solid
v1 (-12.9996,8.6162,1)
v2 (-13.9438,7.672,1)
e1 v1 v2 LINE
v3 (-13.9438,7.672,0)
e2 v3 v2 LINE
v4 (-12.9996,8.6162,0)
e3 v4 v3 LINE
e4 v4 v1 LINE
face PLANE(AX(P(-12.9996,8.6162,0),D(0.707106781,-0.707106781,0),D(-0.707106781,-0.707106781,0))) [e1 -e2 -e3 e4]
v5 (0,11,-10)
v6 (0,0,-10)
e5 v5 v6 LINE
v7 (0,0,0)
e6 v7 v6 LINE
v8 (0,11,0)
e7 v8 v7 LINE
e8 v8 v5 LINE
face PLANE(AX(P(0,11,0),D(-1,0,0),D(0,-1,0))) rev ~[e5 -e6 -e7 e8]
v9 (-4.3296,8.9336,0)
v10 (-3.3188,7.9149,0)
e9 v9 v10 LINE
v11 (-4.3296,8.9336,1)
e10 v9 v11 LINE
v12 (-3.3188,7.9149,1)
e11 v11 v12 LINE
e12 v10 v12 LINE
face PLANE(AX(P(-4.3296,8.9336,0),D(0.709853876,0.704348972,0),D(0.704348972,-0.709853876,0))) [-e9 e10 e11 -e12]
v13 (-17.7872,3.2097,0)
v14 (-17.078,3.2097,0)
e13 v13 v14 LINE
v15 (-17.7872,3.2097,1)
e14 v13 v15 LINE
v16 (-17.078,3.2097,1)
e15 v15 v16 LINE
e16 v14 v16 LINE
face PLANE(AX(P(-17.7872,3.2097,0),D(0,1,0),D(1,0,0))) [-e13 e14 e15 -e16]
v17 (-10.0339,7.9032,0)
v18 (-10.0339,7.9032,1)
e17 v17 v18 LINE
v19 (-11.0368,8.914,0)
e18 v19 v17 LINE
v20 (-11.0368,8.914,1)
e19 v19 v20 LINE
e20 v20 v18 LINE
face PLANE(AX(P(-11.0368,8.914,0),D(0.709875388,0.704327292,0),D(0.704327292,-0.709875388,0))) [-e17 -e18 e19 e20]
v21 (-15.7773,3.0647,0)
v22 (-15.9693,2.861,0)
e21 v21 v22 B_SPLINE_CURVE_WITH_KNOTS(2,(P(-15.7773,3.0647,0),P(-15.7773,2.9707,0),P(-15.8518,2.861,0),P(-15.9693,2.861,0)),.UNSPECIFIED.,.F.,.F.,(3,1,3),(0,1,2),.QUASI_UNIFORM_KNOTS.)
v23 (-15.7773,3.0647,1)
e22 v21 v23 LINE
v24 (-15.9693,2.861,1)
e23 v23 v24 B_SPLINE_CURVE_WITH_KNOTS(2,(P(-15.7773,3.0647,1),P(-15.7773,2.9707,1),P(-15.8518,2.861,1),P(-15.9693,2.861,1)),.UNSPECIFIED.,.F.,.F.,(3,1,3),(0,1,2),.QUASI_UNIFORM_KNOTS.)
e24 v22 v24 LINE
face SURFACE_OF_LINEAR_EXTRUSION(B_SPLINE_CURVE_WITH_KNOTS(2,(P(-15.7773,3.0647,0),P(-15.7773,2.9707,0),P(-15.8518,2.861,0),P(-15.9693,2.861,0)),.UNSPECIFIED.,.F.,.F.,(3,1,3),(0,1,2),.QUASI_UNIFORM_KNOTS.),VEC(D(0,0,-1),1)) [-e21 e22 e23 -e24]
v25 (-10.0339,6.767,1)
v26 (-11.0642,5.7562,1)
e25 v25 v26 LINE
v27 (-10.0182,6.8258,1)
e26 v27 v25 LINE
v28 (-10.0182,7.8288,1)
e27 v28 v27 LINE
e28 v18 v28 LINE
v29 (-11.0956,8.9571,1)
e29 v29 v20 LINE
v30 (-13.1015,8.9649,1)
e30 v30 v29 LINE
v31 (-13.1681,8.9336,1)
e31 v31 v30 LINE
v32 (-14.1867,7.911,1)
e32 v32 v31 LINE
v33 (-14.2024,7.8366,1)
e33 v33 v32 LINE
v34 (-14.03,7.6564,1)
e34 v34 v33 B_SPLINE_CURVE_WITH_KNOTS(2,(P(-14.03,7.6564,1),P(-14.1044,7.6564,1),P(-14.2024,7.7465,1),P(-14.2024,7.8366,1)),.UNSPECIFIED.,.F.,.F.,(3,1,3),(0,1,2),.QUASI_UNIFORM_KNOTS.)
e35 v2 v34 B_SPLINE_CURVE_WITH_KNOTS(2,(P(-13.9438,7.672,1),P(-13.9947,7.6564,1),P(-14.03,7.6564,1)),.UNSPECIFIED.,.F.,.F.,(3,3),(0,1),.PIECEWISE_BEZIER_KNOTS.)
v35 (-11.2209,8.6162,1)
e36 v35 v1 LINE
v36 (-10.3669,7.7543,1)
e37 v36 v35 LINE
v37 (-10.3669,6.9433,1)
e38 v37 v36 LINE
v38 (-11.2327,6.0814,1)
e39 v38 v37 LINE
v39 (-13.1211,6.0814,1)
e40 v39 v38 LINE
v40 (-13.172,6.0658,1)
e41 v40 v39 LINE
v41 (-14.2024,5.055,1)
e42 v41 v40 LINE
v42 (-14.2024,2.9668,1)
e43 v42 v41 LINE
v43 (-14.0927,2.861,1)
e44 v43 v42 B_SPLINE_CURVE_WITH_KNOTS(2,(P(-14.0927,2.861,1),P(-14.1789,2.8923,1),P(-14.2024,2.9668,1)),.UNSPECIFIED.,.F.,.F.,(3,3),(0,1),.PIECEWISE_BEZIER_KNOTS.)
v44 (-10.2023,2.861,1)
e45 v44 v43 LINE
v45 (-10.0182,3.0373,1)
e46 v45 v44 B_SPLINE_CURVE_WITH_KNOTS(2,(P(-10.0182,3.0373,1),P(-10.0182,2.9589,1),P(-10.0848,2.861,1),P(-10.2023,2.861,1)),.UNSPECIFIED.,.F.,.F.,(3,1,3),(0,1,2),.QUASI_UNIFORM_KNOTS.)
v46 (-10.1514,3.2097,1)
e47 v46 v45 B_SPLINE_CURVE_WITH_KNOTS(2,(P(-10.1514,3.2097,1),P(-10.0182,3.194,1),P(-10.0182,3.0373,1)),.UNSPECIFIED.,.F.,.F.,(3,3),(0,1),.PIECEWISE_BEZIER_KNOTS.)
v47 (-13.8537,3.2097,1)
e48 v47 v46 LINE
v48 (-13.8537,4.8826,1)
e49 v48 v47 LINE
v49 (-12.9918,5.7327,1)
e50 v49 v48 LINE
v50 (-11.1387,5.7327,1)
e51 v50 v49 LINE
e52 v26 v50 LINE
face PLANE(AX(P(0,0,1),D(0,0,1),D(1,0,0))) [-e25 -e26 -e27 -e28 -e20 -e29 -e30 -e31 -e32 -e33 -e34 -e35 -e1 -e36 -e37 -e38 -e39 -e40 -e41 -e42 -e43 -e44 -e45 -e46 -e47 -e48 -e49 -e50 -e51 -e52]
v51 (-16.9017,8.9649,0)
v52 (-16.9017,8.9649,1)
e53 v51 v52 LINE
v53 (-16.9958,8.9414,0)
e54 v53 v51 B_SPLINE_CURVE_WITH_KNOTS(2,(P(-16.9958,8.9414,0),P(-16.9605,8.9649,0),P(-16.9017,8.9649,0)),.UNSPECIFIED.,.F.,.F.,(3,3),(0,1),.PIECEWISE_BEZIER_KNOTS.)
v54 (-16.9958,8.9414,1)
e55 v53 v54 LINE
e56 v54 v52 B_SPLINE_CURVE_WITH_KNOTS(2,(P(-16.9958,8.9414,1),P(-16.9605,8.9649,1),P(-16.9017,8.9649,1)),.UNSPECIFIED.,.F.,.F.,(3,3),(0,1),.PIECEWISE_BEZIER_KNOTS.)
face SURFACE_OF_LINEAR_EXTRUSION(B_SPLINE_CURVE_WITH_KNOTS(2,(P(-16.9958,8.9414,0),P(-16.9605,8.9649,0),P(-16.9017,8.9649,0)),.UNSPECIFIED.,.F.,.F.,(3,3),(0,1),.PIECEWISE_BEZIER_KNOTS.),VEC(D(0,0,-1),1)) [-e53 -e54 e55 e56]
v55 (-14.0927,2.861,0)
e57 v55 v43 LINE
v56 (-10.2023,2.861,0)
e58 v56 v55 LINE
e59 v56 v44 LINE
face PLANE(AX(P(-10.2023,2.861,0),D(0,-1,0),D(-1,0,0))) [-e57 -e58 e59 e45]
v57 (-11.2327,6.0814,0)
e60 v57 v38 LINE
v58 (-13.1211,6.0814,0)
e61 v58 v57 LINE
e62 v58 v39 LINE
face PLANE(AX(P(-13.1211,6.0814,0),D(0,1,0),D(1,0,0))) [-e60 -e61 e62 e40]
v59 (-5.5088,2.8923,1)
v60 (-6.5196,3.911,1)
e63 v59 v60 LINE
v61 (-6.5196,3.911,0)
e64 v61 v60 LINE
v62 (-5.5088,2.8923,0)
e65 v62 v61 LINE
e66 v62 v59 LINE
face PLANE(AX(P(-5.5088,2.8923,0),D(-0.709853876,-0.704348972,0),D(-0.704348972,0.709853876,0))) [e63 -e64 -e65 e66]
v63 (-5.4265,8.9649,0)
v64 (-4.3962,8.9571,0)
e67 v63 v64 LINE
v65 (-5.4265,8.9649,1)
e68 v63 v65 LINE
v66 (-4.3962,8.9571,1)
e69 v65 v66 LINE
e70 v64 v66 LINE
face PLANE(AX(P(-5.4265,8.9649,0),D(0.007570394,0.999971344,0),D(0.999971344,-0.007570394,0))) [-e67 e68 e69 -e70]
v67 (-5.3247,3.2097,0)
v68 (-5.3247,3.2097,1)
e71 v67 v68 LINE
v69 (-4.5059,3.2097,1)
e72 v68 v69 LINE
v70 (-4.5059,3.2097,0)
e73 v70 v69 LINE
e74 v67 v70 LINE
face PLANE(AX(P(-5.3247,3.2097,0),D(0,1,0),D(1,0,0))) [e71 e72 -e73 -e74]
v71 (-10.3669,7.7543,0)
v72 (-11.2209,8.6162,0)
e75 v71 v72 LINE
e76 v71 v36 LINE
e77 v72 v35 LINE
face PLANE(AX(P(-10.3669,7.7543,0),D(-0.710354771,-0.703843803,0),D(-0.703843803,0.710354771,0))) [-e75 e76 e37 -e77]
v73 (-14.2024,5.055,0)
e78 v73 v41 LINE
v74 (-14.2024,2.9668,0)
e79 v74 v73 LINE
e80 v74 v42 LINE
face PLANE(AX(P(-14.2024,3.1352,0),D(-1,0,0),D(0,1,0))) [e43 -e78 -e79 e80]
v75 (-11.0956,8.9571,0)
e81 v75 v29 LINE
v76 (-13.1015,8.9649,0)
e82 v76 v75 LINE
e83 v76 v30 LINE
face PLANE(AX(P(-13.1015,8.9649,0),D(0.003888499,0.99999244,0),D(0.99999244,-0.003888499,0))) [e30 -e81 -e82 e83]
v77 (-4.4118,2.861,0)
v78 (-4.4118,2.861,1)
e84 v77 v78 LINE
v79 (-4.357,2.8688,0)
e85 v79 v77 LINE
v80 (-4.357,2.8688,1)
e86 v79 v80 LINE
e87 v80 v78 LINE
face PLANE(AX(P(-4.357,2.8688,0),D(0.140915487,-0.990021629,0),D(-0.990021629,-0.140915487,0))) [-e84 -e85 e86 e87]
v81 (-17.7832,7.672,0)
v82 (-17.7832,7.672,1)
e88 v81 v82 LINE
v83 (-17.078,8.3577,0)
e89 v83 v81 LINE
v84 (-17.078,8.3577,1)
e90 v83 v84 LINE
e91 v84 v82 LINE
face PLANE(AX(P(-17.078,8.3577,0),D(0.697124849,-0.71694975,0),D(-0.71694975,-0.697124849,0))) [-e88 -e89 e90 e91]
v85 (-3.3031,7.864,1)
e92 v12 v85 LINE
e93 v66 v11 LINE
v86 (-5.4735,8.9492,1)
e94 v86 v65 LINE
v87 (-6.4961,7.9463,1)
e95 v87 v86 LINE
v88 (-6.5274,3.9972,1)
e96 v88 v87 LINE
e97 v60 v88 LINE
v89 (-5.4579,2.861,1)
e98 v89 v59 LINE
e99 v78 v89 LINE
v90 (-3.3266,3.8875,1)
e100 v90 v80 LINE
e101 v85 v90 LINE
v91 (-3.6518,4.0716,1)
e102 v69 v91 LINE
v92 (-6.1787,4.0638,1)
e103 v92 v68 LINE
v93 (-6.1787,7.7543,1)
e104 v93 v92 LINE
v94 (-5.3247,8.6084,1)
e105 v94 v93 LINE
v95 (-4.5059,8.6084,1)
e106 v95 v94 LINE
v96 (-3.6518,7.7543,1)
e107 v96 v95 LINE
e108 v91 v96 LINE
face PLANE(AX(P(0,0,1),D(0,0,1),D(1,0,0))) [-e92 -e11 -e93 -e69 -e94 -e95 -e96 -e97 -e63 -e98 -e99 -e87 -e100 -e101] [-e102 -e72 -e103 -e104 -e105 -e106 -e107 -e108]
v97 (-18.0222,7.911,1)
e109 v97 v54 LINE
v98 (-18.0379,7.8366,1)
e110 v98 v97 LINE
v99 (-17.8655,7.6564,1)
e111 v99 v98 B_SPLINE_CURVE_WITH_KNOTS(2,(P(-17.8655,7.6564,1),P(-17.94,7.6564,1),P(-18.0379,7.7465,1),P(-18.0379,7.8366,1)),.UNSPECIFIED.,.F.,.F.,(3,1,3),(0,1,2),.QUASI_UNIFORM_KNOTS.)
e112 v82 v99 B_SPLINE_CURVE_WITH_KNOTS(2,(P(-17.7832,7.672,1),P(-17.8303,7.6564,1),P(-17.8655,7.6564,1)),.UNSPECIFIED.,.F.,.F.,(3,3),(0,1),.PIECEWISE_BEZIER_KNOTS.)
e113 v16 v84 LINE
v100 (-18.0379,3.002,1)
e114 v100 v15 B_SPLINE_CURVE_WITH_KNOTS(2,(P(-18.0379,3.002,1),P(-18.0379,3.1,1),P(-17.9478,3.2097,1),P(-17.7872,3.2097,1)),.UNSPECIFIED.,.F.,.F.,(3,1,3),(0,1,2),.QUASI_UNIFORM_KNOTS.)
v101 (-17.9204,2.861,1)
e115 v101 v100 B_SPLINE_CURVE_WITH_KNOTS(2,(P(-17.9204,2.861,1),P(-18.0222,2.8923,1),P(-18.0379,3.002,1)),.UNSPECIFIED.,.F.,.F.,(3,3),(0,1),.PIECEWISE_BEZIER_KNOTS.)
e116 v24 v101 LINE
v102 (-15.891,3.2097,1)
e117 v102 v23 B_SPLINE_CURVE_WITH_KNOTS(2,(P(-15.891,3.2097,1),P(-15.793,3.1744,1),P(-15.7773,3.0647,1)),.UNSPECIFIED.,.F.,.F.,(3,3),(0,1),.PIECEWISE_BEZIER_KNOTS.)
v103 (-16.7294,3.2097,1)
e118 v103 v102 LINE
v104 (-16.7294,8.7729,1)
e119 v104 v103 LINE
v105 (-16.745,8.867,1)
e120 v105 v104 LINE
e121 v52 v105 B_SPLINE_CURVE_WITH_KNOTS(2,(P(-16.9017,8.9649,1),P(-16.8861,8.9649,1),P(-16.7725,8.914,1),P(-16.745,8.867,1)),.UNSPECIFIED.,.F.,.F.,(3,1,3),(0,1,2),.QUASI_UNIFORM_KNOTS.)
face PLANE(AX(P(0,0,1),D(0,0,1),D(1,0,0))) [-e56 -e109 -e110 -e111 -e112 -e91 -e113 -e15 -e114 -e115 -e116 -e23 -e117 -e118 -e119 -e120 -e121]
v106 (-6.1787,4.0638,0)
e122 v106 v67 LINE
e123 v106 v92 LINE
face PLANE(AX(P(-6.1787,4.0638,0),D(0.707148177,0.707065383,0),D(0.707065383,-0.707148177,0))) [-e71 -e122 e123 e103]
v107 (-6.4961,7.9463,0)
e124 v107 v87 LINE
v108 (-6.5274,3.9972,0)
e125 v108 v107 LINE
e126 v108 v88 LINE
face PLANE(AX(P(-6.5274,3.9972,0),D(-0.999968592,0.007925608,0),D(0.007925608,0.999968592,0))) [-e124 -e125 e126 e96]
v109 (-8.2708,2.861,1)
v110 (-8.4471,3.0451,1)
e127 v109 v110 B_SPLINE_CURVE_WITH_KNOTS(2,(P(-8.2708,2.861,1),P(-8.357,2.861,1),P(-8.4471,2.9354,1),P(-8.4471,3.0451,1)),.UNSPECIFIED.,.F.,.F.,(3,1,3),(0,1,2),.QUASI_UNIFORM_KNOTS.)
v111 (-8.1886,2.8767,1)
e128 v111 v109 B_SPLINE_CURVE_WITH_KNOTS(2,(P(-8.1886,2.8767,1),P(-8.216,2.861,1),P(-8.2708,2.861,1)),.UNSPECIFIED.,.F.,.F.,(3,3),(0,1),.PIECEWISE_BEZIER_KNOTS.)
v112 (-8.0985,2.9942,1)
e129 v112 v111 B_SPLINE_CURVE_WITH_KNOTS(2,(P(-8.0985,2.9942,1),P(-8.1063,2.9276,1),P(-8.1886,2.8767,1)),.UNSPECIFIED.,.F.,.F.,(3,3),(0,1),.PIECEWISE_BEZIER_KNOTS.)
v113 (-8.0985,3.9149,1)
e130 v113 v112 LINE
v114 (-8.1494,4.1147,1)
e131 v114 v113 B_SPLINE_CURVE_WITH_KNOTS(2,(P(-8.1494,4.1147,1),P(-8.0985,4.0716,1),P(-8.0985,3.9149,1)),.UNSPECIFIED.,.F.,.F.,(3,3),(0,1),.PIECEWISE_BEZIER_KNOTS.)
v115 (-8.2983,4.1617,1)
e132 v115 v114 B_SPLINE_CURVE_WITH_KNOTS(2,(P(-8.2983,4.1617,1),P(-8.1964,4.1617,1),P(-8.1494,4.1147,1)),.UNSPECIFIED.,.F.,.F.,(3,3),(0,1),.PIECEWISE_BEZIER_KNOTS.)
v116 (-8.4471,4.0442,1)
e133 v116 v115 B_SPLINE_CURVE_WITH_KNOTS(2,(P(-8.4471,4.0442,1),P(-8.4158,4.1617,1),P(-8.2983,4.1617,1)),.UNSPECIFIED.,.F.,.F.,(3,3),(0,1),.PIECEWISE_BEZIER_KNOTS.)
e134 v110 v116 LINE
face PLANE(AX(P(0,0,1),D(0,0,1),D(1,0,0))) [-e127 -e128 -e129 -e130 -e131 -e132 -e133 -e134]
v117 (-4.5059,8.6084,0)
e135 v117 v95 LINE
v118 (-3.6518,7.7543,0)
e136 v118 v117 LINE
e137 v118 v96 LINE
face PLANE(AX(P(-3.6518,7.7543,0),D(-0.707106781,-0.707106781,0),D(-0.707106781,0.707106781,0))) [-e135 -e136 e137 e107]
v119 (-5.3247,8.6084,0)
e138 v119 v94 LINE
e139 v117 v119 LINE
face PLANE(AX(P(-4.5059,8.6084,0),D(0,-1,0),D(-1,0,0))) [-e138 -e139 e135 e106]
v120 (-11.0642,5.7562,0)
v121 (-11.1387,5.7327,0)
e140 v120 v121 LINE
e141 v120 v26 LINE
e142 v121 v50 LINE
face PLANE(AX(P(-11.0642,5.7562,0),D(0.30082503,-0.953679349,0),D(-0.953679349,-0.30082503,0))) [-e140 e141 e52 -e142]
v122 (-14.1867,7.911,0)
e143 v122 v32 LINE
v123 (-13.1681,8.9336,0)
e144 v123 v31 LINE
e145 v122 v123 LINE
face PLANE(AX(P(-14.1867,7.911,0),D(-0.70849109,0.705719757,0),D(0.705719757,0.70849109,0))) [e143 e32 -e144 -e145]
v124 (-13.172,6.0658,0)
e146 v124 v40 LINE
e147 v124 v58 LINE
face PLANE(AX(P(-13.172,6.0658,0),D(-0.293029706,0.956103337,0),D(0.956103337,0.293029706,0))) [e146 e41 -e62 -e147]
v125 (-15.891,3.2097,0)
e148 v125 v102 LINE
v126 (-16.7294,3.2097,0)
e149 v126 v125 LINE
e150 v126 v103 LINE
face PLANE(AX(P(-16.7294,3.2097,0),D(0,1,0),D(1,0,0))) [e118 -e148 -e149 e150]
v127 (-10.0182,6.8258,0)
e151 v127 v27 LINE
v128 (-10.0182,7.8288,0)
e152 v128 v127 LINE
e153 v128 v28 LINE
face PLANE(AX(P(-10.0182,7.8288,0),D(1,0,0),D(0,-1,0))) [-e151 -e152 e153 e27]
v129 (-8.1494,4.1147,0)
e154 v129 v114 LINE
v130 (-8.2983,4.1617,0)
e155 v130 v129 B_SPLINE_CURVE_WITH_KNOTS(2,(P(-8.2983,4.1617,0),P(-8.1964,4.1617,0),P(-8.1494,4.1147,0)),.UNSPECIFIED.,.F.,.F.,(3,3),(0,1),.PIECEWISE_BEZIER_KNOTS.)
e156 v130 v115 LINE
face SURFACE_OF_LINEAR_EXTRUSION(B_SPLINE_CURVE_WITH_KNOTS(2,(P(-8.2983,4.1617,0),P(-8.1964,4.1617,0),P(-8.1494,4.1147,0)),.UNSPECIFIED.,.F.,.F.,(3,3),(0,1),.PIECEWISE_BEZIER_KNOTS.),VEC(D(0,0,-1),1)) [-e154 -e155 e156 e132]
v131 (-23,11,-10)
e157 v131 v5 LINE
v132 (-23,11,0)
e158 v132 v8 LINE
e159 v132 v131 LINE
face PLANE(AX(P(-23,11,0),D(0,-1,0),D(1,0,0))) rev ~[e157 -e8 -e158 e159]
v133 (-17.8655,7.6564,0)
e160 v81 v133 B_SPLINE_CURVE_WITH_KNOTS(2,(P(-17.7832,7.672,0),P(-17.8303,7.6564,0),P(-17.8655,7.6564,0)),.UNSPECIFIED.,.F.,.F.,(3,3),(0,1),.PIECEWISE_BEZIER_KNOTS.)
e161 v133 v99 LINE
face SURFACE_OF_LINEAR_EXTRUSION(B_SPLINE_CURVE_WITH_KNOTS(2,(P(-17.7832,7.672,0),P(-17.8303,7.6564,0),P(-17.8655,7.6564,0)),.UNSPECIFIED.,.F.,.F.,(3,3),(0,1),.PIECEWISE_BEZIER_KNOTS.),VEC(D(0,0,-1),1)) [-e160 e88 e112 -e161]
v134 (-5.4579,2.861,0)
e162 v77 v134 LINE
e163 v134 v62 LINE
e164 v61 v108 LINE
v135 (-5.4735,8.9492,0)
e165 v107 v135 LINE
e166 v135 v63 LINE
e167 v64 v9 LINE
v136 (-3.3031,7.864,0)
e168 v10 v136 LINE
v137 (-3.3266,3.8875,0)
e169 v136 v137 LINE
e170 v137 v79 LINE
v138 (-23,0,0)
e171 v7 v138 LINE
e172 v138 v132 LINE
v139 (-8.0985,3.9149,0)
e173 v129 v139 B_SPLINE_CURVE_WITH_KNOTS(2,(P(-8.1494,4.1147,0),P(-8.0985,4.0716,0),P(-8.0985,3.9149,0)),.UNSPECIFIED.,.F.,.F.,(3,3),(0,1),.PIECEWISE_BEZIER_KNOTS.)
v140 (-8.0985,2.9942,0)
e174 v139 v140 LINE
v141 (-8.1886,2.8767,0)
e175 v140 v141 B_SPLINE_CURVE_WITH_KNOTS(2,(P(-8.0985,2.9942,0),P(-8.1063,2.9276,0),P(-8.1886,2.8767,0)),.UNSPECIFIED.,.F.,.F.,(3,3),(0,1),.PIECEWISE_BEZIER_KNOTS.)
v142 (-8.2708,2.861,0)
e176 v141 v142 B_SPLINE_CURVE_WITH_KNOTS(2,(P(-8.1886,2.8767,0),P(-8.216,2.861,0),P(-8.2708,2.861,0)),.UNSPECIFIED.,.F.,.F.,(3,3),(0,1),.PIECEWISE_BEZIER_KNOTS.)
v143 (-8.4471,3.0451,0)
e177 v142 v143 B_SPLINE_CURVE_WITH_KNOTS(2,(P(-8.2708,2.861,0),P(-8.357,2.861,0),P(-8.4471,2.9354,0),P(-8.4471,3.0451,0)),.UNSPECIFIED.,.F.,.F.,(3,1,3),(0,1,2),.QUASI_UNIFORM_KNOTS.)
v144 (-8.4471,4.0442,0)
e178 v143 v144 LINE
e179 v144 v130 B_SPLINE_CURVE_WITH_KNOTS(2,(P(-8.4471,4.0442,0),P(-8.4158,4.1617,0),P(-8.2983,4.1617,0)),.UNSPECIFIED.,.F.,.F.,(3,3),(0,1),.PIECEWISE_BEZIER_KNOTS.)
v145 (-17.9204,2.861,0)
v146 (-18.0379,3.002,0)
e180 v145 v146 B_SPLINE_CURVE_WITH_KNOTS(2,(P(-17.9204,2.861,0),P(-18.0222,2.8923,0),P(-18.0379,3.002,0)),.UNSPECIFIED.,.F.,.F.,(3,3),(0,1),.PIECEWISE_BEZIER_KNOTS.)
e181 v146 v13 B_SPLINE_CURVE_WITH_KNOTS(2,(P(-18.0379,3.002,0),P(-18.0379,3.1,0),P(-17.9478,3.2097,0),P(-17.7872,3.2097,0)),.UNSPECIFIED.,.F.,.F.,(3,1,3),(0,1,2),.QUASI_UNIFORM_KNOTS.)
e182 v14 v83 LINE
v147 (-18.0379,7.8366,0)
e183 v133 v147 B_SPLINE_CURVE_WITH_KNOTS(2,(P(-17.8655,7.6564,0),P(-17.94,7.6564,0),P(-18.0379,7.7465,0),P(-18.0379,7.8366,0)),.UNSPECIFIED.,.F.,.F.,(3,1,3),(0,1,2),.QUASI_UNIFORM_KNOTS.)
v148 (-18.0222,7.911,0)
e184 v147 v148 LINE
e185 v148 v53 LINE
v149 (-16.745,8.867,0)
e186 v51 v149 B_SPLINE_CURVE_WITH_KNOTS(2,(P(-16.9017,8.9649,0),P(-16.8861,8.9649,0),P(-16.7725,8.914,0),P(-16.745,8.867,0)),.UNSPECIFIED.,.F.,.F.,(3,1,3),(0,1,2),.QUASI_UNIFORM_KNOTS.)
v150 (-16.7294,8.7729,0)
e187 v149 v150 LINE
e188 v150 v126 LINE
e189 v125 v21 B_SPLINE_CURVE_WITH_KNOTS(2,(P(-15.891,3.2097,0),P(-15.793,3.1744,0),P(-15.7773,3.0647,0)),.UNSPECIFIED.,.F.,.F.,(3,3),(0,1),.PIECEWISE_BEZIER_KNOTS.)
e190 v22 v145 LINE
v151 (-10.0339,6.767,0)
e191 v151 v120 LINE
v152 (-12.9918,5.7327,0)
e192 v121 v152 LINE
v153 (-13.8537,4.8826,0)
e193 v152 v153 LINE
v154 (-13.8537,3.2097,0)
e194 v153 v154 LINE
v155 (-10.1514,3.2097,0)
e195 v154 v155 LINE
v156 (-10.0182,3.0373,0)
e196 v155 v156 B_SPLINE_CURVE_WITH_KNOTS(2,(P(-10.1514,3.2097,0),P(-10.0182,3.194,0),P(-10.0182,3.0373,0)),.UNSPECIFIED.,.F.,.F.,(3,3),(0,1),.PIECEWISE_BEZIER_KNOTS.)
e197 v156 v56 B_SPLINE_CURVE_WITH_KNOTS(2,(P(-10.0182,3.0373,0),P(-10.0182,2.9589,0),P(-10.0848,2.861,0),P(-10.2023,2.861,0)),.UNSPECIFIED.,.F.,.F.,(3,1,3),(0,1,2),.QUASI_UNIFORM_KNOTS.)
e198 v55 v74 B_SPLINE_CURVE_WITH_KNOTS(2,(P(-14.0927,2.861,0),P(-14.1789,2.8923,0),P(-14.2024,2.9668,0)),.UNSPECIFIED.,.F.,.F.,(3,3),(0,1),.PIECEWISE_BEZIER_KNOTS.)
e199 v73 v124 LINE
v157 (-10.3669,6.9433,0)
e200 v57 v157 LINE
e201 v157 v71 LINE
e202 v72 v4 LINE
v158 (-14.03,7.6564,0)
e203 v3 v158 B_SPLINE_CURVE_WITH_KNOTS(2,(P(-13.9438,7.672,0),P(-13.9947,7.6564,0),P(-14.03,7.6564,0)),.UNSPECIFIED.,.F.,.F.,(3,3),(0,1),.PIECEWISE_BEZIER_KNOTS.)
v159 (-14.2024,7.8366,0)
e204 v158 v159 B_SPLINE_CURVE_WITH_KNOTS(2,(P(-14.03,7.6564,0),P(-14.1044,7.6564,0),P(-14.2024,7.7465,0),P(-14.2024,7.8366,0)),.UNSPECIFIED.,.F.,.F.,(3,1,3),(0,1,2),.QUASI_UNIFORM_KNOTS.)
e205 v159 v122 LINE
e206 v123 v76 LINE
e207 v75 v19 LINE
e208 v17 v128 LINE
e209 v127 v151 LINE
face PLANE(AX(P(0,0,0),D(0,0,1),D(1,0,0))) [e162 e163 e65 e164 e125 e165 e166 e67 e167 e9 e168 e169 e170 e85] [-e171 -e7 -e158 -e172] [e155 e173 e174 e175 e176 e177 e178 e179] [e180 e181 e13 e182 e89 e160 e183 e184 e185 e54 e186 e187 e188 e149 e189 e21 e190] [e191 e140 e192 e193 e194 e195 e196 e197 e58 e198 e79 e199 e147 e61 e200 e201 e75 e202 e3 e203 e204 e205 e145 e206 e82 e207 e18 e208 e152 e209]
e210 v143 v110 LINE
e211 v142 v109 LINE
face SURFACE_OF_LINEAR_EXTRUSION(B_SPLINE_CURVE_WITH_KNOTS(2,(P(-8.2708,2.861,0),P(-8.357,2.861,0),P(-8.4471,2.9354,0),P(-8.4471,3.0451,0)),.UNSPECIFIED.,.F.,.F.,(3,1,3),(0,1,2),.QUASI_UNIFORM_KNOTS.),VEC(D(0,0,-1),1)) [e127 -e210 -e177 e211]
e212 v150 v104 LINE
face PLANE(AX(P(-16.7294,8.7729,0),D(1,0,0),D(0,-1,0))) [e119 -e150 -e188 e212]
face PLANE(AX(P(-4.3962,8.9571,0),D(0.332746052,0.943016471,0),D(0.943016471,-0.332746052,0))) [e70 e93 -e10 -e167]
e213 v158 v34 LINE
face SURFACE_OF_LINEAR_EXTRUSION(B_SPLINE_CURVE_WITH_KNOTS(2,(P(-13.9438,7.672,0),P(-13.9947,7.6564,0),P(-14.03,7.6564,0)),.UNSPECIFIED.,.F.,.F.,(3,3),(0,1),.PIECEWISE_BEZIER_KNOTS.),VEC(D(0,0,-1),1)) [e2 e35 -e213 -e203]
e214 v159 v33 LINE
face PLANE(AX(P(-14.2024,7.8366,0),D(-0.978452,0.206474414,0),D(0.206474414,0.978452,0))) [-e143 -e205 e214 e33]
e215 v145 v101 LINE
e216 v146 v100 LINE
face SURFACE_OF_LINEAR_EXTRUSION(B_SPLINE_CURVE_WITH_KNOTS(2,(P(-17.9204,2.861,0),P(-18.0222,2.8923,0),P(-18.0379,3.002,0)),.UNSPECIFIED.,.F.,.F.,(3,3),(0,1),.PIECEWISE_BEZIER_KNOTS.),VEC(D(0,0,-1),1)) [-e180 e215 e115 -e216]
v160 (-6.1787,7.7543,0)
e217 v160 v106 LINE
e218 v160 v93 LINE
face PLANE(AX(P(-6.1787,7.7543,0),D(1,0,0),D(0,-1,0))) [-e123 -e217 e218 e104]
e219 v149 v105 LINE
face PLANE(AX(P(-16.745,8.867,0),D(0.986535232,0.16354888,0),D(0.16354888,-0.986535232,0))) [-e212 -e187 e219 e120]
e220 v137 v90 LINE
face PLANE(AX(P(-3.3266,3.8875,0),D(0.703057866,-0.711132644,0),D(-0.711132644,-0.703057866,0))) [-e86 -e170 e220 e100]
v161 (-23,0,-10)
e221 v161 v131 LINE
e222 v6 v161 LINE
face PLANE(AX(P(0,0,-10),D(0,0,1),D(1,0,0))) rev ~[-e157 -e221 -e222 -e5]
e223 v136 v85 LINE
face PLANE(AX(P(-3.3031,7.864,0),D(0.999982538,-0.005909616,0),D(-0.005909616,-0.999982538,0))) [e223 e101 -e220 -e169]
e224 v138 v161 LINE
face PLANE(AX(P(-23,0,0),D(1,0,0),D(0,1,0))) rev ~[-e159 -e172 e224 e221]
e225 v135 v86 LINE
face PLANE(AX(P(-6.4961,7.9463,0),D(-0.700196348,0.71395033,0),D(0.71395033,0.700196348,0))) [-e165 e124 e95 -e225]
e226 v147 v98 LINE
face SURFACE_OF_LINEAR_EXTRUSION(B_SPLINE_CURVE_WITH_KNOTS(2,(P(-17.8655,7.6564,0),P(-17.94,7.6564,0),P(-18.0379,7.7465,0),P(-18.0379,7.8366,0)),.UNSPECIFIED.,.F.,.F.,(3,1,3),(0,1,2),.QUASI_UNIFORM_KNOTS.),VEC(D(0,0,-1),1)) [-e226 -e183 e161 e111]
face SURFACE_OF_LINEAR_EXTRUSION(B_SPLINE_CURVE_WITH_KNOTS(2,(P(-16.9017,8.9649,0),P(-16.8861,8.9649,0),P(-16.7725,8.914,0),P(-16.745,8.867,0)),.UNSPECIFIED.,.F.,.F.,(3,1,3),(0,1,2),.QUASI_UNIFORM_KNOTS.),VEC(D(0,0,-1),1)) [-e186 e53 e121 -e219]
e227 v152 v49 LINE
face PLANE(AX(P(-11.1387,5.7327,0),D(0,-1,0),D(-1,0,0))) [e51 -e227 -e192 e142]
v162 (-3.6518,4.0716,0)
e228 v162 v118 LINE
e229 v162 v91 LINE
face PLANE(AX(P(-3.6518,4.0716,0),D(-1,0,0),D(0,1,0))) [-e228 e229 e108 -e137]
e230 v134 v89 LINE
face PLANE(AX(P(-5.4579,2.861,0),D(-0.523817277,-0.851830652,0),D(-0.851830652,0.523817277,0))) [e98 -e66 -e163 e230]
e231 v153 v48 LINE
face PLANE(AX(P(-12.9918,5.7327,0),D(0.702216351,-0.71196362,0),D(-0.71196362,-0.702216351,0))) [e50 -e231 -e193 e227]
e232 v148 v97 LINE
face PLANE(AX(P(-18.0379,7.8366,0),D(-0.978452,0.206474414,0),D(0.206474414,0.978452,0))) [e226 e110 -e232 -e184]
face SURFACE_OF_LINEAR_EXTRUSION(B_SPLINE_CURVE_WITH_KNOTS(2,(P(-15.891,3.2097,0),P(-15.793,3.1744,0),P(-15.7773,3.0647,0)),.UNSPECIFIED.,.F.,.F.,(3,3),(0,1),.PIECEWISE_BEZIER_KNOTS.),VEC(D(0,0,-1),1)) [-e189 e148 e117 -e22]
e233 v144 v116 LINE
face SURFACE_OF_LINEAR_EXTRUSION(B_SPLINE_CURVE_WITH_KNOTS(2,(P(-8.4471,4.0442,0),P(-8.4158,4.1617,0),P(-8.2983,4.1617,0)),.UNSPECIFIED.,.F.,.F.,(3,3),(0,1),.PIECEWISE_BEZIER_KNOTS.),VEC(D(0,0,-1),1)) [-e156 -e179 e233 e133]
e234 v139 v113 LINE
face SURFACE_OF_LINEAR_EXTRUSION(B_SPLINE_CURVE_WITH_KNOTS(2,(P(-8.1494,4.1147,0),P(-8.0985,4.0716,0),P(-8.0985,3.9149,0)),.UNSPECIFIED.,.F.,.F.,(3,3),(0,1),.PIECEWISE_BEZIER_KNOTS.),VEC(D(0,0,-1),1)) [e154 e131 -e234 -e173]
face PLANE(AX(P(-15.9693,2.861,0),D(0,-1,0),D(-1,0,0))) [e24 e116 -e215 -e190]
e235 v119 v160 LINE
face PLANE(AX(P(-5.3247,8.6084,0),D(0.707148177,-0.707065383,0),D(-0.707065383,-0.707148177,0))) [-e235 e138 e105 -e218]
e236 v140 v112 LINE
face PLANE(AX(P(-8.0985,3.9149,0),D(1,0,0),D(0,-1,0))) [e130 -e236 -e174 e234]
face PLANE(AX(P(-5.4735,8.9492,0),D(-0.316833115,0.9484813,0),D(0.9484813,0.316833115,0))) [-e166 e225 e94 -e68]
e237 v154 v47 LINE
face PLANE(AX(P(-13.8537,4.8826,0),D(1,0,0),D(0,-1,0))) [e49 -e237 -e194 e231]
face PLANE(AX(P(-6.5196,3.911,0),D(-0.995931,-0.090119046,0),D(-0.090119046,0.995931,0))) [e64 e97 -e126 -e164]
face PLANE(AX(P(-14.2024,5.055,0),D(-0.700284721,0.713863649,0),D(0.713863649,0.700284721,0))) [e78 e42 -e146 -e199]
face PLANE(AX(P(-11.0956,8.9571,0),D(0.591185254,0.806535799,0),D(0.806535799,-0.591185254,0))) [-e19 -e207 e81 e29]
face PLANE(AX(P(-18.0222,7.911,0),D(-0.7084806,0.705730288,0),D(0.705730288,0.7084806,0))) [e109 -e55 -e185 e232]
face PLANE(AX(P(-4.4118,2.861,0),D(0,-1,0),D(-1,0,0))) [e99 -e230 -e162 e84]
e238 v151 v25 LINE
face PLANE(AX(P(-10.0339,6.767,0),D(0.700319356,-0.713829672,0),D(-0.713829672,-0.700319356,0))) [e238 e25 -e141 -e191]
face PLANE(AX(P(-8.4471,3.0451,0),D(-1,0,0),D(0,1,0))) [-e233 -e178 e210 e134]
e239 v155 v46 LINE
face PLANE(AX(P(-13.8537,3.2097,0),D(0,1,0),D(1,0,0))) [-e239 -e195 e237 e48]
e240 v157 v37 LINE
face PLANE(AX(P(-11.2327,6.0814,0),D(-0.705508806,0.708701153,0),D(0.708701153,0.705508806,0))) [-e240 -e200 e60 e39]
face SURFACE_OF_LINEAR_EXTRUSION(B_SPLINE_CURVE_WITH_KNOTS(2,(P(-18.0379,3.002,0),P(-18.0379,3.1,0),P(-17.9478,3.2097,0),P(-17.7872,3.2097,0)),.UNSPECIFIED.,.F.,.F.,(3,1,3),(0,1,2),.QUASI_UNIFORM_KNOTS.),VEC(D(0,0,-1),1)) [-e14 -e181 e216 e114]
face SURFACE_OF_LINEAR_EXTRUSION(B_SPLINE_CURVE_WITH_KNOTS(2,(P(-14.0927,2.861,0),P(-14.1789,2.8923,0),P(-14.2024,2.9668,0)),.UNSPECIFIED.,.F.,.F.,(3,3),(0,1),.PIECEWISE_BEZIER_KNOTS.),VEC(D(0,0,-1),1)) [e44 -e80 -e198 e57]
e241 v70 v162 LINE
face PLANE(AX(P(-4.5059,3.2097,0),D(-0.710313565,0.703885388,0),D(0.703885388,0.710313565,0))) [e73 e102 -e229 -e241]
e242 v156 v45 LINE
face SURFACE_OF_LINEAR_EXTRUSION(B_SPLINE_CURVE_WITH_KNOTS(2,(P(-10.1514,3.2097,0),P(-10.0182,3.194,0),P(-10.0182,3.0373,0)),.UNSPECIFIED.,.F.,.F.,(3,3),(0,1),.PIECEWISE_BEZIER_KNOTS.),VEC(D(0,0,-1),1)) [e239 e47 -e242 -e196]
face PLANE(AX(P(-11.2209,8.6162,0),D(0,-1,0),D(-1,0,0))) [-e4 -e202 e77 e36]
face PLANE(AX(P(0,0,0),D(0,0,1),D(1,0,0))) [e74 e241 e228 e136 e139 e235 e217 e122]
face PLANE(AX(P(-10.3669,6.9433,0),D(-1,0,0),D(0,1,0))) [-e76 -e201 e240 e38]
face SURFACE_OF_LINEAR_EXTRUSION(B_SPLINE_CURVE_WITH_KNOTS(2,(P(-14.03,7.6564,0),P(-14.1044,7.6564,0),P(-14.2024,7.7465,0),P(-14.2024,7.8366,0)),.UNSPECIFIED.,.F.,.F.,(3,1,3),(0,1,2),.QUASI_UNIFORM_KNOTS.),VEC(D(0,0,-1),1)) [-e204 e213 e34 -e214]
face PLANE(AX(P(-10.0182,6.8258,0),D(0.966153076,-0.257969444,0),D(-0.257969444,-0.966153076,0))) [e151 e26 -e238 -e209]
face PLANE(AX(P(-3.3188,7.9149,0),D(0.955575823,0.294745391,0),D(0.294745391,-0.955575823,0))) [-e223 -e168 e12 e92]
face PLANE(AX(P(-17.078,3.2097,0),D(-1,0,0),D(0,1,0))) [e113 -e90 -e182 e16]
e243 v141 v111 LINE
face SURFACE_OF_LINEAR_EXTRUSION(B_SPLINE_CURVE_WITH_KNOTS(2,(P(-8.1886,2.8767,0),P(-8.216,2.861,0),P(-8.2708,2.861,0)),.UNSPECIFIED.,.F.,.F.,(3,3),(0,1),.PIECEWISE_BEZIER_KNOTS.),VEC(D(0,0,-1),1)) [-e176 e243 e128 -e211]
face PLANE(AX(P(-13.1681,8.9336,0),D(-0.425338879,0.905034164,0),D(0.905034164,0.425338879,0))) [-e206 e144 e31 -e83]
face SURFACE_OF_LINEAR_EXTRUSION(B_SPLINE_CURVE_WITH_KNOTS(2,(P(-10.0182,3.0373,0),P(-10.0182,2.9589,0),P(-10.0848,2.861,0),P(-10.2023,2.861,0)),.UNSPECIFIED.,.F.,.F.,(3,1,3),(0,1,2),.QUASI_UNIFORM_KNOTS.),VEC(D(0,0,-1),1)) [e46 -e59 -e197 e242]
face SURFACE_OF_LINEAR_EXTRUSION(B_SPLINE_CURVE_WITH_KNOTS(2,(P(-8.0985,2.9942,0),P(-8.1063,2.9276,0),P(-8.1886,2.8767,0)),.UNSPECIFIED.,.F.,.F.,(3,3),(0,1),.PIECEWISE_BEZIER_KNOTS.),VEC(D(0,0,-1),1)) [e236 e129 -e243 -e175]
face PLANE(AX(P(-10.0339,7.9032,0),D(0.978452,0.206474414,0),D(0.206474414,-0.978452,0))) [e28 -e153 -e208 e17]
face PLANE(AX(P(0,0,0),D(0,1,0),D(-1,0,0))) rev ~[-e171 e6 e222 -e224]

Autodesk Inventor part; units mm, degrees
ref_plane "YZ Plane" through (0, 0, 0) normal (1, 0, 0) x (0, 1, 0)
ref_plane "XZ Plane" through (0, 0, 0) normal (0, 1, 0) x (-1, 0, 0)
ref_plane "XY Plane" through (0, 0, 0) normal (0, 0, 1) x (1, 0, 0)
sketch "Sketch1" plane through (0, 0, 0) normal (0, 0, 1) x (1, 0, 0)
  line L0 (0, 0) -> (-23, 0)
  line L1 (-23, 0) -> (-23, 11)
  line L2 (-23, 11) -> (0, 11)
  line L3 (0, 11) -> (0, 0)
  line L4 (-17.8694, 8.961) -> (2.181, 8.961) construction
  line L5 (2.181, 8.961) -> (2.181, 1.8992) construction
  line L6 (2.181, 1.8992) -> (-17.8694, 1.8992) construction
  line L7 (-17.8694, 1.8992) -> (-17.8694, 8.961) construction
  line L8 (-16.745, 8.867) -> (-16.7294, 8.7729)
  line L9 (-16.7294, 8.7729) -> (-16.7294, 3.2097)
  line L10 (-16.7294, 3.2097) -> (-15.891, 3.2097)
  spline S0 degree 2 poles (-15.891, 3.2097) (-15.793, 3.1744) (-15.7773, 3.0647) knots 0 0 0 1 1 1
  spline S1 degree 2 poles (-15.7773, 3.0647) (-15.7773, 2.9707) (-15.8518, 2.861) (-15.9693, 2.861) knots 0 0 0 1 2 2 2
  line L11 (-15.9693, 2.861) -> (-17.9204, 2.861)
  spline S2 degree 2 poles (-17.9204, 2.861) (-18.0222, 2.8923) (-18.0379, 3.002) knots 0 0 0 1 1 1
  spline S3 degree 2 poles (-18.0379, 3.002) (-18.0379, 3.1) (-17.9478, 3.2097) (-17.7872, 3.2097) knots 0 0 0 1 2 2 2
  line L12 (-17.7872, 3.2097) -> (-17.078, 3.2097)
  line L13 (-17.078, 3.2097) -> (-17.078, 8.3577)
  line L14 (-17.078, 8.3577) -> (-17.7832, 7.672)
  spline S4 degree 2 poles (-17.7832, 7.672) (-17.8303, 7.6564) (-17.8655, 7.6564) knots 0 0 0 1 1 1
  spline S5 degree 2 poles (-17.8655, 7.6564) (-17.94, 7.6564) (-18.0379, 7.7465) (-18.0379, 7.8366) knots 0 0 0 1 2 2 2
  line L15 (-18.0379, 7.8366) -> (-18.0222, 7.911)
  line L16 (-18.0222, 7.911) -> (-16.9958, 8.9414)
  spline S6 degree 2 poles (-16.9958, 8.9414) (-16.9605, 8.9649) (-16.9017, 8.9649) knots 0 0 0 1 1 1
  spline S7 degree 2 poles (-16.9017, 8.9649) (-16.8861, 8.9649) (-16.7725, 8.914) (-16.745, 8.867) knots 0 0 0 1 2 2 2
  line L17 (-11.0368, 8.914) -> (-10.0339, 7.9032)
  line L18 (-10.0339, 7.9032) -> (-10.0182, 7.8288)
  line L19 (-10.0182, 7.8288) -> (-10.0182, 6.8258)
  line L20 (-10.0182, 6.8258) -> (-10.0339, 6.767)
  line L21 (-10.0339, 6.767) -> (-11.0642, 5.7562)
  line L22 (-11.0642, 5.7562) -> (-11.1387, 5.7327)
  line L23 (-11.1387, 5.7327) -> (-12.9918, 5.7327)
  line L24 (-12.9918, 5.7327) -> (-13.8537, 4.8826)
  line L25 (-13.8537, 4.8826) -> (-13.8537, 3.2097)
  line L26 (-13.8537, 3.2097) -> (-10.1514, 3.2097)
  spline S8 degree 2 poles (-10.1514, 3.2097) (-10.0182, 3.194) (-10.0182, 3.0373) knots 0 0 0 1 1 1
  spline S9 degree 2 poles (-10.0182, 3.0373) (-10.0182, 2.9589) (-10.0848, 2.861) (-10.2023, 2.861) knots 0 0 0 1 2 2 2
  line L27 (-10.2023, 2.861) -> (-14.0927, 2.861)
  spline S10 degree 2 poles (-14.0927, 2.861) (-14.1789, 2.8923) (-14.2024, 2.9668) knots 0 0 0 1 1 1
  line L28 (-14.2024, 2.9668) -> (-14.2024, 3.1352)
  line L29 (-14.2024, 3.1352) -> (-14.2024, 5.055)
  line L30 (-14.2024, 5.055) -> (-13.172, 6.0658)
  line L31 (-13.172, 6.0658) -> (-13.1211, 6.0814)
  line L32 (-13.1211, 6.0814) -> (-11.2327, 6.0814)
  line L33 (-11.2327, 6.0814) -> (-10.3669, 6.9433)
  line L34 (-10.3669, 6.9433) -> (-10.3669, 7.7543)
  line L35 (-10.3669, 7.7543) -> (-11.2209, 8.6162)
  line L36 (-11.2209, 8.6162) -> (-12.9996, 8.6162)
  line L37 (-12.9996, 8.6162) -> (-13.9438, 7.672)
  spline S11 degree 2 poles (-13.9438, 7.672) (-13.9947, 7.6564) (-14.03, 7.6564) knots 0 0 0 1 1 1
  spline S12 degree 2 poles (-14.03, 7.6564) (-14.1044, 7.6564) (-14.2024, 7.7465) (-14.2024, 7.8366) knots 0 0 0 1 2 2 2
  line L38 (-14.2024, 7.8366) -> (-14.1867, 7.911)
  line L39 (-14.1867, 7.911) -> (-13.1681, 8.9336)
  line L40 (-13.1681, 8.9336) -> (-13.1015, 8.9649)
  line L41 (-13.1015, 8.9649) -> (-11.0956, 8.9571)
  line L42 (-11.0956, 8.9571) -> (-11.0368, 8.914)
  spline S13 degree 2 poles (-8.1494, 4.1147) (-8.0985, 4.0716) (-8.0985, 3.9149) knots 0 0 0 1 1 1
  line L43 (-8.0985, 3.9149) -> (-8.0985, 2.9942)
  spline S14 degree 2 poles (-8.0985, 2.9942) (-8.1063, 2.9276) (-8.1886, 2.8767) knots 0 0 0 1 1 1
  spline S15 degree 2 poles (-8.1886, 2.8767) (-8.216, 2.861) (-8.2708, 2.861) knots 0 0 0 1 1 1
  spline S16 degree 2 poles (-8.2708, 2.861) (-8.357, 2.861) (-8.4471, 2.9354) (-8.4471, 3.0451) knots 0 0 0 1 2 2 2
  line L44 (-8.4471, 3.0451) -> (-8.4471, 4.0442)
  spline S17 degree 2 poles (-8.4471, 4.0442) (-8.4158, 4.1617) (-8.2983, 4.1617) knots 0 0 0 1 1 1
  spline S18 degree 2 poles (-8.2983, 4.1617) (-8.1964, 4.1617) (-8.1494, 4.1147) knots 0 0 0 1 1 1
  line L45 (-4.3296, 8.9336) -> (-3.3188, 7.9149)
  line L46 (-3.3188, 7.9149) -> (-3.3031, 7.864)
  line L47 (-3.3031, 7.864) -> (-3.3266, 3.8875)
  line L48 (-3.3266, 3.8875) -> (-4.357, 2.8688)
  line L49 (-4.357, 2.8688) -> (-4.4118, 2.861)
  line L50 (-4.4118, 2.861) -> (-5.4579, 2.861)
  line L51 (-5.4579, 2.861) -> (-5.5088, 2.8923)
  line L52 (-5.5088, 2.8923) -> (-6.5196, 3.911)
  line L53 (-6.5196, 3.911) -> (-6.5274, 3.9972)
  line L54 (-6.5274, 3.9972) -> (-6.4961, 7.9463)
  line L55 (-6.4961, 7.9463) -> (-5.4735, 8.9492)
  line L56 (-5.4735, 8.9492) -> (-5.4265, 8.9649)
  line L57 (-5.4265, 8.9649) -> (-4.3962, 8.9571)
  line L58 (-4.3962, 8.9571) -> (-4.3296, 8.9336)
  line L59 (-3.6518, 7.7543) -> (-4.5059, 8.6084)
  line L60 (-4.5059, 8.6084) -> (-5.3247, 8.6084)
  line L61 (-5.3247, 8.6084) -> (-6.1787, 7.7543)
  line L62 (-6.1787, 7.7543) -> (-6.1787, 4.0638)
  line L63 (-6.1787, 4.0638) -> (-5.3247, 3.2097)
  line L64 (-5.3247, 3.2097) -> (-4.5059, 3.2097)
  line L65 (-4.5059, 3.2097) -> (-3.6518, 4.0716)
  line L66 (-3.6518, 4.0716) -> (-3.6518, 7.7543)
  dimension "d0" = 23
  dimension "d1" = 11
extrude "Extrusion1" add sketch "Sketch1" against normal blind 10 contours L0 L1 L2 L3 | L8 L9 L10 S0 S1 L11 S2 S3 L12 L13 L14 S4 S5 L15 L16 S6 S7 | L17 L18 L19 L20 L21 L22 L23 L24 L25 L26 S8 S9 L27 S10 L28 L29 L30 L31 L32 L33 L34 L35 L36 L37 S11 S12 L38 L39 L40 L41 L42 | S13 L43 S14 S15 S16 L44 S17 S18 | L45 L46 L47 L48 L49 L50 L51 L52 L53 L54 L55 L56 L57 L58 | L66 L65 L64 L63 L62 L61 L60 L59
extrude "Extrusion2" add sketch "Sketch1" along normal blind 1 contours L8 L9 L10 S0 S1 L11 S2 S3 L12 L13 L14 S4 S5 L15 L16 S6 S7 | L17 L18 L19 L20 L21 L22 L23 L24 L25 L26 S8 S9 L27 S10 L28 L29 L30 L31 L32 L33 L34 L35 L36 L37 S11 S12 L38 L39 L40 L41 L42 | S13 L43 S14 S15 S16 L44 S17 S18 | L45 L46 L47 L48 L49 L50 L51 L52 L53 L54 L55 L56 L57 L58
properties part number "VolteMeter"
